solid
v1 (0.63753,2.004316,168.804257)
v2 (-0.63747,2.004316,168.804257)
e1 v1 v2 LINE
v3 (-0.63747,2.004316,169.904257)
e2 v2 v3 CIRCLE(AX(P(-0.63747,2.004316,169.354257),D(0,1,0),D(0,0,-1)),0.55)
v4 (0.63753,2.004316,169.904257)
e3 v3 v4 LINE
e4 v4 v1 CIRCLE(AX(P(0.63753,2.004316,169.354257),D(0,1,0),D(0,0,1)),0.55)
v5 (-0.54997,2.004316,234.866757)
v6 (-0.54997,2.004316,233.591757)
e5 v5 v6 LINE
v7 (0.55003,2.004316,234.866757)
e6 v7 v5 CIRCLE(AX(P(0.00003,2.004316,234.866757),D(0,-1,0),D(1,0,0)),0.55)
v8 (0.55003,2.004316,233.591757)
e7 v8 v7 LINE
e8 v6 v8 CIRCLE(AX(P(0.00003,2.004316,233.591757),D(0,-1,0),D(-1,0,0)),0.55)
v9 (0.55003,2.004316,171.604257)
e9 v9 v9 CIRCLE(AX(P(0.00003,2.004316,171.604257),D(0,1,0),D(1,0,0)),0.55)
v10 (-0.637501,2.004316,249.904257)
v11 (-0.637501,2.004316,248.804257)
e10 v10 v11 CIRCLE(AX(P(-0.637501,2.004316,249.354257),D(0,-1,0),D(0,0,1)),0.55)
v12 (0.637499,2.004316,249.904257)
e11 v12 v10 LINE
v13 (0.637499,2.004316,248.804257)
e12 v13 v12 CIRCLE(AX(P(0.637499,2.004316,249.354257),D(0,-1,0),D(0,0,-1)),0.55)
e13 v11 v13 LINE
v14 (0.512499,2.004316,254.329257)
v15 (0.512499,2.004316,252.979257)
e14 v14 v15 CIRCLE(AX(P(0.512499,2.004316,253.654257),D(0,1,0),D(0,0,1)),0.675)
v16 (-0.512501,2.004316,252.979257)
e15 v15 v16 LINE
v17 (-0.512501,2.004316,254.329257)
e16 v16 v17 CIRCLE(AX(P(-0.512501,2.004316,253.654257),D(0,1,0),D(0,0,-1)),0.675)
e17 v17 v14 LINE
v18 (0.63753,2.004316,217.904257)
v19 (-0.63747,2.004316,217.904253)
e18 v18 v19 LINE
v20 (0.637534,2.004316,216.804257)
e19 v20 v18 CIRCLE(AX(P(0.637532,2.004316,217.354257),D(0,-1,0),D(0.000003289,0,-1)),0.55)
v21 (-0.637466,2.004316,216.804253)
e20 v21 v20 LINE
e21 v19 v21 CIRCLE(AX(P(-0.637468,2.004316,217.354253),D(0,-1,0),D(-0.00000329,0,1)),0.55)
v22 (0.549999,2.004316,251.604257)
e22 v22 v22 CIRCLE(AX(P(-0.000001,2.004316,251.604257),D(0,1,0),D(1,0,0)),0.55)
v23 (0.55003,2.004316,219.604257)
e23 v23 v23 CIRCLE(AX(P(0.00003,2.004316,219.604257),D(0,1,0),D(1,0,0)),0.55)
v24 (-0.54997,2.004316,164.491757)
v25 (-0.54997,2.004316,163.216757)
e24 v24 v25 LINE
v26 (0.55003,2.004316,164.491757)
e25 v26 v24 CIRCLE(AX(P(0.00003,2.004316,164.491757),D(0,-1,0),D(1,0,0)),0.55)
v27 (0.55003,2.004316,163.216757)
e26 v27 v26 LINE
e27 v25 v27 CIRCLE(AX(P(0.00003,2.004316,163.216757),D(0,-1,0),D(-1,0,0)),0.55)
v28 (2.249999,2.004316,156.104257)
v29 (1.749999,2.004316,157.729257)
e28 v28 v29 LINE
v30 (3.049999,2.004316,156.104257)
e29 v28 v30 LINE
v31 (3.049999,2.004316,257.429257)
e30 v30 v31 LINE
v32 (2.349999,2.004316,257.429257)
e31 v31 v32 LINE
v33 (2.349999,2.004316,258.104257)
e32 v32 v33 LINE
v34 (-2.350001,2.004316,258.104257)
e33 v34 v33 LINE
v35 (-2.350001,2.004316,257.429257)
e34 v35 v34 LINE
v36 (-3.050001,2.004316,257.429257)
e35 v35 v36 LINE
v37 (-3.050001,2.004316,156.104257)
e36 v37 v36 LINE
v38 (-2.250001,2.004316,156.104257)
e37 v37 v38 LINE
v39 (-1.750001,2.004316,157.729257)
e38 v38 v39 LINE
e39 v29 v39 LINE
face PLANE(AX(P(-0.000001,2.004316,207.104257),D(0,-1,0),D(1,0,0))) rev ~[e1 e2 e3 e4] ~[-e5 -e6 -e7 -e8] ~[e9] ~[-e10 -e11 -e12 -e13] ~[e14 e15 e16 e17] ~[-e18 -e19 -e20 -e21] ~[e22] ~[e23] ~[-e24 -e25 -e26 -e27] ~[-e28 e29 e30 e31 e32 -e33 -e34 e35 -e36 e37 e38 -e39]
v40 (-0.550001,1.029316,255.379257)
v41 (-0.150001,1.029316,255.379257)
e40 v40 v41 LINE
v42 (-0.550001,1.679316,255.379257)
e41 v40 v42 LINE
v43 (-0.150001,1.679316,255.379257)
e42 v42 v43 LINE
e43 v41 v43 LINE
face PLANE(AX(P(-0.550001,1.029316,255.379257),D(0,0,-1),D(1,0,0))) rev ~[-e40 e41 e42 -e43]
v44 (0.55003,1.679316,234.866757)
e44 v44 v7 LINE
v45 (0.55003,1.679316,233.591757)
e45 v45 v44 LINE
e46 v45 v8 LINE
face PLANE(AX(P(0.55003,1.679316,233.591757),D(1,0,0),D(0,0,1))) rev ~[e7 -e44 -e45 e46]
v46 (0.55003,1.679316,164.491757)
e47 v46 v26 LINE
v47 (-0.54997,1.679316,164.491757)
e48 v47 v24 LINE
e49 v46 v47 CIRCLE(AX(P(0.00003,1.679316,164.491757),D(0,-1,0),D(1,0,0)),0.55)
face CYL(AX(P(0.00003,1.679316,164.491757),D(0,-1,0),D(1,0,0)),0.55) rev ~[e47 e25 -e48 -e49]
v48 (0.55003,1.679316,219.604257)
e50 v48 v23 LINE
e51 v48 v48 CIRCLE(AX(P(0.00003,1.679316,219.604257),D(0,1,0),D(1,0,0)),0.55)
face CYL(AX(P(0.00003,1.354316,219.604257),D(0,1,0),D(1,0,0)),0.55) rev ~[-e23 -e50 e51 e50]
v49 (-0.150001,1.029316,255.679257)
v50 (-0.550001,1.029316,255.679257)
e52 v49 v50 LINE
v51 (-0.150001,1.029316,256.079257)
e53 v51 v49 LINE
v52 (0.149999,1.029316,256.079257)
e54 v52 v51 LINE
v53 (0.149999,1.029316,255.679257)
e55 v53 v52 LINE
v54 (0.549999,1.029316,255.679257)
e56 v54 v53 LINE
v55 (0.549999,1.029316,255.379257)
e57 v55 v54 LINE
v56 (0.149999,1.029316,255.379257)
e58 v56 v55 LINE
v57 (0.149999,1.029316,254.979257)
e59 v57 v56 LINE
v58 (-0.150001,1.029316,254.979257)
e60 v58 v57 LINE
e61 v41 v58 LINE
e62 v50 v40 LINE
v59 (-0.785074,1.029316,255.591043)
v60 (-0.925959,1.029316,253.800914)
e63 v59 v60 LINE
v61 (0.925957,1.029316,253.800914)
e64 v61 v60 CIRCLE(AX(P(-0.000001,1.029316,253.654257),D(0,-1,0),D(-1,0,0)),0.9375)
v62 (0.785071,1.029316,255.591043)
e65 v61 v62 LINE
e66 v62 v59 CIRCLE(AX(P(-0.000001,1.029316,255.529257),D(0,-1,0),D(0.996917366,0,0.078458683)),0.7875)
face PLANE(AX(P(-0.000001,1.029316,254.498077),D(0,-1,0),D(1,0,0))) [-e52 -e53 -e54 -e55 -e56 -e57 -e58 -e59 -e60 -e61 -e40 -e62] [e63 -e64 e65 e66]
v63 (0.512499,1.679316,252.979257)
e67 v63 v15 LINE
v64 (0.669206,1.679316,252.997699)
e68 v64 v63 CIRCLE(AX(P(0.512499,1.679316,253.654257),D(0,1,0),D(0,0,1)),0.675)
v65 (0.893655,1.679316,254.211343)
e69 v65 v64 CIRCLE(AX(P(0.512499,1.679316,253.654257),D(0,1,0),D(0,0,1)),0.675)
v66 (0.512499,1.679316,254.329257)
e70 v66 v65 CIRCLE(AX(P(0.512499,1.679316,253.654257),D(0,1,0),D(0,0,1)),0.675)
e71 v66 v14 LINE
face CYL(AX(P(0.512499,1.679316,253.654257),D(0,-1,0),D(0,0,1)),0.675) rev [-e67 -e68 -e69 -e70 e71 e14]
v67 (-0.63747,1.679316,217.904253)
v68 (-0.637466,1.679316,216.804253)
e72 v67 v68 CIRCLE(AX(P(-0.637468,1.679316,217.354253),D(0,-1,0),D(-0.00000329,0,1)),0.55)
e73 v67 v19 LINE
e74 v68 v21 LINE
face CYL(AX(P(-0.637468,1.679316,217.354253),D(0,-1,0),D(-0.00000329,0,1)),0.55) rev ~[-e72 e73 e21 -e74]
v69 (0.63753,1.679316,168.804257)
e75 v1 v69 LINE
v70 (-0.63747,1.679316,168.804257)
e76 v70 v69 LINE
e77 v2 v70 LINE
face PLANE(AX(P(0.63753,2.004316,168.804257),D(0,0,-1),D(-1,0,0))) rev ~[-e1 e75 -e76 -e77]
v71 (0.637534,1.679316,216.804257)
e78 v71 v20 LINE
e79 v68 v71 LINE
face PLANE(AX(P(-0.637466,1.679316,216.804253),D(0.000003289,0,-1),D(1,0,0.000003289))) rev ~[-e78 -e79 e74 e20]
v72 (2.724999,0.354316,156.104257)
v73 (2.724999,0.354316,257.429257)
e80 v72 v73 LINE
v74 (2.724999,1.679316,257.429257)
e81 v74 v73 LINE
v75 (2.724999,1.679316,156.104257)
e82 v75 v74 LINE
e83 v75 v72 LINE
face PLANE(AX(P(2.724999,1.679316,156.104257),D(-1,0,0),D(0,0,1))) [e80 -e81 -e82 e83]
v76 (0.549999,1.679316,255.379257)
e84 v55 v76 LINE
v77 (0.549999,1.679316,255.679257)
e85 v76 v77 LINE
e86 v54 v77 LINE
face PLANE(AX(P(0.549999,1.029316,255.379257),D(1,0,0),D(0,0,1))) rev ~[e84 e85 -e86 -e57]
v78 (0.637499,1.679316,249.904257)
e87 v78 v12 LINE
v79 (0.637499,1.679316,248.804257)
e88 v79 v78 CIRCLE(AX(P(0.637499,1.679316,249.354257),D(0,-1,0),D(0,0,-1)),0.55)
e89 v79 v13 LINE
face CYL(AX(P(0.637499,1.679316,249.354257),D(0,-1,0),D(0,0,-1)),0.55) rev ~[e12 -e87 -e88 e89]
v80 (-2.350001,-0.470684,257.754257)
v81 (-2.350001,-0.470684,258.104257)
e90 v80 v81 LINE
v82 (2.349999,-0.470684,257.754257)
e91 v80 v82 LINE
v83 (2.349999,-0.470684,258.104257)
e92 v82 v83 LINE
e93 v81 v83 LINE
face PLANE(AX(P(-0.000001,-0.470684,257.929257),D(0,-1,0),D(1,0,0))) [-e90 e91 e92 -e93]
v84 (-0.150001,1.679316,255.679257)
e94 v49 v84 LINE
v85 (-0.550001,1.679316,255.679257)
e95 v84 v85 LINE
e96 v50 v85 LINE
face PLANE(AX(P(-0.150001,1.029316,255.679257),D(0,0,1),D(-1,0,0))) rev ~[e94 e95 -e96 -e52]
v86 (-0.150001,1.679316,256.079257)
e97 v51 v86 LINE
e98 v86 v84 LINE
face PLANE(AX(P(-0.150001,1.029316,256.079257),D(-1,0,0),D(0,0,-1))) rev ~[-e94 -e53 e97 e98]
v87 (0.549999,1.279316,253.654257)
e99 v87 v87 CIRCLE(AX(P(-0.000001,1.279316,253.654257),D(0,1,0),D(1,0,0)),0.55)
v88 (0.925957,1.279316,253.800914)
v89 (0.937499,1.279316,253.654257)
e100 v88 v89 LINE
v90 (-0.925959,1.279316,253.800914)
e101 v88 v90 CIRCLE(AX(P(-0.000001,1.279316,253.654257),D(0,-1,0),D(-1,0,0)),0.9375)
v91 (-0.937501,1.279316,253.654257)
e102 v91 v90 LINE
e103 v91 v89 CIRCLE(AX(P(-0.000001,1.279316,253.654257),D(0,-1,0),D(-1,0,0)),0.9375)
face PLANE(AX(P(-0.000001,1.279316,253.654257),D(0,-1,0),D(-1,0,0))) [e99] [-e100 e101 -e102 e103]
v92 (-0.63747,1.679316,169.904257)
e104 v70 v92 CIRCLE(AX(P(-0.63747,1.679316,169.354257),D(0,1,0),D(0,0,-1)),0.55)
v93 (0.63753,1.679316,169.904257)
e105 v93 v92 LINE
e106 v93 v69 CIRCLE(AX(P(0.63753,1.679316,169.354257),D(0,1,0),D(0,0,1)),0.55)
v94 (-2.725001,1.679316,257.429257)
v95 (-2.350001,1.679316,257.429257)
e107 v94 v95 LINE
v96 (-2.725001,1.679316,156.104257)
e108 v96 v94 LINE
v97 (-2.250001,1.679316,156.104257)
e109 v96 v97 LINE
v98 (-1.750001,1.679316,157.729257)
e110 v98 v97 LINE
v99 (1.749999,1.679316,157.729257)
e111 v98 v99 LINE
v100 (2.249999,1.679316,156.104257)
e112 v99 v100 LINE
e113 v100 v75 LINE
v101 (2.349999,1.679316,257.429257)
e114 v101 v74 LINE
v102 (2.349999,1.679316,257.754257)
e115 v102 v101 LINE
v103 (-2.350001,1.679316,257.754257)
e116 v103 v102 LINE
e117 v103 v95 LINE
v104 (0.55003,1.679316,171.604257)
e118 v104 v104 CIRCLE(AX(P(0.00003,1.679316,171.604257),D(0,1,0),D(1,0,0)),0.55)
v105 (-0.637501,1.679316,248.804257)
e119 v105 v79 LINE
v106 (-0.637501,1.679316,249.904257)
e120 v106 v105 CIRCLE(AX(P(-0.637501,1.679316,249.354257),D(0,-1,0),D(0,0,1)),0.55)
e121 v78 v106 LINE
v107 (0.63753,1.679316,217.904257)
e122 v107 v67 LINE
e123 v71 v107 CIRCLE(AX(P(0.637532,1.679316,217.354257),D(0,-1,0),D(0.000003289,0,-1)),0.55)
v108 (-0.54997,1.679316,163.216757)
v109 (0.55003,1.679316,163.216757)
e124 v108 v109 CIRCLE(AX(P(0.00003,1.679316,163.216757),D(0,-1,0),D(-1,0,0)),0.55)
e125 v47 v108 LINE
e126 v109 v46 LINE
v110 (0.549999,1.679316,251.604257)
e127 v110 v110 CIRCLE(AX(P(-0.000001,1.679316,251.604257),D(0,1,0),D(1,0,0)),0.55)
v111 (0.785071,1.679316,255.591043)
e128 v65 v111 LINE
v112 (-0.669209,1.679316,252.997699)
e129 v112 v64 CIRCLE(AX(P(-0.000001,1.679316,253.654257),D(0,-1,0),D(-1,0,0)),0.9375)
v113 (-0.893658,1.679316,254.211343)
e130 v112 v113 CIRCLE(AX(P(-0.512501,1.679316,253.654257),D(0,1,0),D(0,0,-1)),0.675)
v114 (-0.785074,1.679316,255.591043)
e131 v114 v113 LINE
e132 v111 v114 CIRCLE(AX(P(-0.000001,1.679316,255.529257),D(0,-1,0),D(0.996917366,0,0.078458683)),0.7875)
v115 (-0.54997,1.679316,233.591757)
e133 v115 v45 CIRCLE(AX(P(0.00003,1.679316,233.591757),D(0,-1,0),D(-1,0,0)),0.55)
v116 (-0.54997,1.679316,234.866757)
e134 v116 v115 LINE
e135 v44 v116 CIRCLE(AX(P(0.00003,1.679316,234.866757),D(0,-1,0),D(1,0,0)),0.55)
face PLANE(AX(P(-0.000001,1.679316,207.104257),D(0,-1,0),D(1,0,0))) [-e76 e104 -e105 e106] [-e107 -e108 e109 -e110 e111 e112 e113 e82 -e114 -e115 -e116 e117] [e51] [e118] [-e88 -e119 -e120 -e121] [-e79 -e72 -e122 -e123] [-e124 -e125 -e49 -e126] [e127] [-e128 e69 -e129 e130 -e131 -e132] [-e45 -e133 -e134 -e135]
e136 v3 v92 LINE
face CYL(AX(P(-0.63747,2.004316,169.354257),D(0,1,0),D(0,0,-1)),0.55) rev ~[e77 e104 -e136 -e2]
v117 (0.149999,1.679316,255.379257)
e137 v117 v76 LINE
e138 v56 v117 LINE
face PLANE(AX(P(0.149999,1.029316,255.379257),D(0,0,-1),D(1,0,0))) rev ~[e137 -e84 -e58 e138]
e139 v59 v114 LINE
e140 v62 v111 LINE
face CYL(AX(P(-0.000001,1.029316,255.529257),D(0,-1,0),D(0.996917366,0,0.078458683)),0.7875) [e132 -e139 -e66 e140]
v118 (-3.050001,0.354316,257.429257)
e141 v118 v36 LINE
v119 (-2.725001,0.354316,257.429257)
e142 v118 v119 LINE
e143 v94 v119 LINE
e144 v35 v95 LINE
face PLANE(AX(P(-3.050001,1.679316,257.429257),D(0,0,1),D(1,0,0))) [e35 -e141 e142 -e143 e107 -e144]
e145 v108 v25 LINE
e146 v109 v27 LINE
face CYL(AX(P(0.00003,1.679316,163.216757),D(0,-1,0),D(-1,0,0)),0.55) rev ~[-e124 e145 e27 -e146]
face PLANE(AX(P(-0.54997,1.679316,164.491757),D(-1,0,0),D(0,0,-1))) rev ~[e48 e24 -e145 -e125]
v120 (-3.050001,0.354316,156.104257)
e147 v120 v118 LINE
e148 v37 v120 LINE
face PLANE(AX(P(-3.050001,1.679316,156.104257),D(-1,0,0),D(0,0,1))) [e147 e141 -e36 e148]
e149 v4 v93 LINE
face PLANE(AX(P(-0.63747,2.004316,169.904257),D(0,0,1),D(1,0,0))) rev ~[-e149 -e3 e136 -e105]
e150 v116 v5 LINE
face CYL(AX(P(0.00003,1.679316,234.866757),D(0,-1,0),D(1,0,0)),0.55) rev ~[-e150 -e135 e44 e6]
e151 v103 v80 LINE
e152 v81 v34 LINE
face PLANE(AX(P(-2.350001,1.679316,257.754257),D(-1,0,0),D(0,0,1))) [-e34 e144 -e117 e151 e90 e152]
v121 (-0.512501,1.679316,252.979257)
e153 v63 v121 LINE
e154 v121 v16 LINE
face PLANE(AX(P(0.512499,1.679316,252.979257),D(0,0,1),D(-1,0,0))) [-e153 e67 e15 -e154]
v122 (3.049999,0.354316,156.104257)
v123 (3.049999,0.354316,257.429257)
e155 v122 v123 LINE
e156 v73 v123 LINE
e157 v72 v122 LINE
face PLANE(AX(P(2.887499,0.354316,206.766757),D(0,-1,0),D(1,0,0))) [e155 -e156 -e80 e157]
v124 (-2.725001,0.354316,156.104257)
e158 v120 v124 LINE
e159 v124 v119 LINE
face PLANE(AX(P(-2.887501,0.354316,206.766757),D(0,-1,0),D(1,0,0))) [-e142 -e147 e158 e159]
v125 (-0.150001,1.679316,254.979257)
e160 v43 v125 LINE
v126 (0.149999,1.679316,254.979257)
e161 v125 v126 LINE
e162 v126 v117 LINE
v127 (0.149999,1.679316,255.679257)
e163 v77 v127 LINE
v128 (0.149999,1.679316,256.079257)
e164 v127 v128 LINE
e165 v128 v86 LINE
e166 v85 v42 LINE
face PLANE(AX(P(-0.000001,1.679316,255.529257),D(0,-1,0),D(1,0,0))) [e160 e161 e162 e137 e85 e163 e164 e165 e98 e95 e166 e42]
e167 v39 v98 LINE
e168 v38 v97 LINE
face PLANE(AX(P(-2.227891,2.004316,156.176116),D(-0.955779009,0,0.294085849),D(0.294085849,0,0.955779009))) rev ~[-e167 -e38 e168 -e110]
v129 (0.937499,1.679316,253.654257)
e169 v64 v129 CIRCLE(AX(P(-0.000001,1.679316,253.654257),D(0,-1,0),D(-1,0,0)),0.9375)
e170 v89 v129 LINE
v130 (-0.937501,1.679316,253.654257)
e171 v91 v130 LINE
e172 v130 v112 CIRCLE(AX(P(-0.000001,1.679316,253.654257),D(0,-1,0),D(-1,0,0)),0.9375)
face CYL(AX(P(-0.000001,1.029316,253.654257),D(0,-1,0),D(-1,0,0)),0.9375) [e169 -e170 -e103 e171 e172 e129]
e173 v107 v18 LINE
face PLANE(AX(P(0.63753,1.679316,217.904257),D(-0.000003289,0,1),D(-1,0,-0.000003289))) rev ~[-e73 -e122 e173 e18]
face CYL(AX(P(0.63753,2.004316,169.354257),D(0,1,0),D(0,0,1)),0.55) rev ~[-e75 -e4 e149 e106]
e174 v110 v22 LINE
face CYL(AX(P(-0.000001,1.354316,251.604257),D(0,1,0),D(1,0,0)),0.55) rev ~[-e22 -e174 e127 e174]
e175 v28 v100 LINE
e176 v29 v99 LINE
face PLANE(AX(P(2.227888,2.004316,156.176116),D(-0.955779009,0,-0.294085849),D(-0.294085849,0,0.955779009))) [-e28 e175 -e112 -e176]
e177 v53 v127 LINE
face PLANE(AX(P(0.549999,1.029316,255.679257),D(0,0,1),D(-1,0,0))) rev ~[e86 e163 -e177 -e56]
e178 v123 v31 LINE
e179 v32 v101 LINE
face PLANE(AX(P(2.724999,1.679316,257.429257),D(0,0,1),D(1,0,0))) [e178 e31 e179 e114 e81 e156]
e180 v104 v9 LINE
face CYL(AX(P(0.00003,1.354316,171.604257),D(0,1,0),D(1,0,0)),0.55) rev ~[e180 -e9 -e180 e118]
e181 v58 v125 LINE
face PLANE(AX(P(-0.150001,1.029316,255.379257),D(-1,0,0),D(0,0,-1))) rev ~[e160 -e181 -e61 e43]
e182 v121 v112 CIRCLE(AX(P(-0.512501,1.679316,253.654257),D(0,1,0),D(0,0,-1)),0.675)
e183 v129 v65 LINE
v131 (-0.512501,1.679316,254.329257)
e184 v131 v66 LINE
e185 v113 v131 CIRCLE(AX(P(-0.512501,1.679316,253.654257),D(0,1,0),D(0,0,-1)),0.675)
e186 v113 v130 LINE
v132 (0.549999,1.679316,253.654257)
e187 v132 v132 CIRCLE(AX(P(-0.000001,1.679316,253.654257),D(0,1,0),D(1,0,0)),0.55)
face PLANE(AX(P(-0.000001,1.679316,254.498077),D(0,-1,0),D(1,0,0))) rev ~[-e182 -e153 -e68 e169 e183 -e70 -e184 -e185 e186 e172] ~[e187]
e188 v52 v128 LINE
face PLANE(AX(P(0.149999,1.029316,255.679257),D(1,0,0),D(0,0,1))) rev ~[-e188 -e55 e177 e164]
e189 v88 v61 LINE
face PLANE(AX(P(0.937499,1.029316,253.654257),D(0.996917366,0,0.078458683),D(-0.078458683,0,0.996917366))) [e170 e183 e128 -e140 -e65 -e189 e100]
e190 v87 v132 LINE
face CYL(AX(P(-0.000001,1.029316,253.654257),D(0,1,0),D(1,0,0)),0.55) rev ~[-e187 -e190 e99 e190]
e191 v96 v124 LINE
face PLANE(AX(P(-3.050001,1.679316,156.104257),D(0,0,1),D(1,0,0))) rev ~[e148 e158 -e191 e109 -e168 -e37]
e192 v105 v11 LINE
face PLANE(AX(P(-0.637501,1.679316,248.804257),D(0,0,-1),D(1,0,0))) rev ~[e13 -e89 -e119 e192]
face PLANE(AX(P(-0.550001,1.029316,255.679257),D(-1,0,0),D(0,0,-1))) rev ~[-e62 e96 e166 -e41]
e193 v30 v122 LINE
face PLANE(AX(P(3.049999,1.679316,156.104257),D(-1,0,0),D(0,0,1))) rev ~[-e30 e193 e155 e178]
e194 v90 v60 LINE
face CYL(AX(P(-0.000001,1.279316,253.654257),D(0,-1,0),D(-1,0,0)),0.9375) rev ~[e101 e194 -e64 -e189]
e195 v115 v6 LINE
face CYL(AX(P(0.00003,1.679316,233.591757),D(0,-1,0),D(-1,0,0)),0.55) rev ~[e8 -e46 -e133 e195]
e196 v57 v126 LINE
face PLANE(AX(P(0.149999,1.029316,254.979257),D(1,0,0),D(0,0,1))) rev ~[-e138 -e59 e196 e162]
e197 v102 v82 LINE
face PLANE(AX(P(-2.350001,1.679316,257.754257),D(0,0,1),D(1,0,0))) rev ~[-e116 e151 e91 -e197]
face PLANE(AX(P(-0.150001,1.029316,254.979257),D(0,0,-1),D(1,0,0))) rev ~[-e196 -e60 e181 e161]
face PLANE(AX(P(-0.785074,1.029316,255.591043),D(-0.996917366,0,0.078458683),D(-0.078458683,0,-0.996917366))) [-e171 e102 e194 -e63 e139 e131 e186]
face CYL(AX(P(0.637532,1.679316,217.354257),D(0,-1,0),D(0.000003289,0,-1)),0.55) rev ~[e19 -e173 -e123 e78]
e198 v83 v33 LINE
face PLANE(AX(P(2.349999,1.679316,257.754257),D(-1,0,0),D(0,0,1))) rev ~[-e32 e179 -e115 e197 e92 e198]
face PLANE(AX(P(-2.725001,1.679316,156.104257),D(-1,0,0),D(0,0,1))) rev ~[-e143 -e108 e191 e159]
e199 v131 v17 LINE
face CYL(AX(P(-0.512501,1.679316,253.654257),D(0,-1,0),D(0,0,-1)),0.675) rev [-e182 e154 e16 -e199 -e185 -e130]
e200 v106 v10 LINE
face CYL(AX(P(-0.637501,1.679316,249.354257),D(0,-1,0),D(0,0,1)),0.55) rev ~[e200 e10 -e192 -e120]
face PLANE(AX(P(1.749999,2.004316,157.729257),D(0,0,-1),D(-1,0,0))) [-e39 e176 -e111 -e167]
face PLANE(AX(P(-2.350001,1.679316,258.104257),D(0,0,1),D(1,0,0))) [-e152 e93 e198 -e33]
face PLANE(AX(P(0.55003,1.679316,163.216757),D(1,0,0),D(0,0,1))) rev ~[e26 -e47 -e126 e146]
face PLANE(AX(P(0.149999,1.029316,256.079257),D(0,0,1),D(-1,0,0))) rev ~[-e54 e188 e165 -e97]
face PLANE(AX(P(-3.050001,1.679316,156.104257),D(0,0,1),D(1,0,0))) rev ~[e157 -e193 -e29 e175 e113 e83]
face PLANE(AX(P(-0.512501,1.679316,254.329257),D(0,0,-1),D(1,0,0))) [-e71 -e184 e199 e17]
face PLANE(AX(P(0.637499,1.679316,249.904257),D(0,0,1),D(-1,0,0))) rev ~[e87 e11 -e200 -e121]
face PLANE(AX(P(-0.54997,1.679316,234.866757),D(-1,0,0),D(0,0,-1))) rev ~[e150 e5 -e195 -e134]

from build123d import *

# Parameters (mm, degrees)
BOSS_EXTRUDE1_DEPTH                              = 2.6
SKETCH2_W                                        = 24.4
SKETCH2_H                                        = 408
BOSS_EXTRUDE2_DEPTH                              = 1.3
SKETCH3_W                                        = 2.8
SKETCH3_H                                        = 2.7
CUT_EXTRUDE1_DEPTH                               = 4.9
SKETCH4_W                                        = 1.3
SKETCH4_H                                        = 405.3
BOSS_EXTRUDE3_DEPTH                              = 5.3
SKETCH5_W                                        = 2.8
SKETCH5_H                                        = 2.7
CUT_EXTRUDE2_DEPTH                               = 7.6
SKETCH6_W                                        = 1.3
SKETCH6_H                                        = 405.3
BOSS_EXTRUDE4_DEPTH                              = 5.3
SKETCH7_W                                        = 18.8
SKETCH7_H                                        = 1.4
BOSS_EXTRUDE5_DEPTH                              = 8.6
SKETCH8_W                                        = 14
SKETCH8_H                                        = 6.5
CUT_EXTRUDE3_DEPTH                               = 10.9
CUT_EXTRUDE4_DEPTH                               = 2.3
CUT_EXTRUDE5_DEPTH                               = 2.3
CUT_EXTRUDE6_DEPTH                               = 2.3
CUT_EXTRUDE7_DEPTH                               = 2.3
CUT_EXTRUDE8_DEPTH                               = 10.9
CUT_EXTRUDE9_DEPTH                               = 2.6
DRAFT1_ANGLE                                     = 17.102728969
F_4_4_4_4_DIAMETER_HOLE1_D                       = 4.4
F_4_4_4_4_DIAMETER_HOLE1_DEPTH                   = 1.3
CBORE_FOR_M4_HEX_HEAD_MACHINE_SCREW1_D           = 4.4
CBORE_FOR_M4_HEX_HEAD_MACHINE_SCREW1_DEPTH       = 3.9
CBORE_FOR_M4_HEX_HEAD_MACHINE_SCREW1_CBORE_D     = 7.5
CBORE_FOR_M4_HEX_HEAD_MACHINE_SCREW1_CBORE_DEPTH = 1
SCALE1_SCALE                                     = 0.25


with BuildPart() as part:
    # Sketch1 → Boss-Extrude1 (new body)
    with BuildSketch(Plane.XZ.offset(0.6)):
        with BuildLine():
            Line((3.75, 390.2), (3.140289704, 397.947144852))
            ThreePointArc((3.140289704, 397.947144852), (0, 400.85), (-3.140289704, 397.947144852))
            Line((-3.140289704, 397.947144852), (-3.75, 390.2))
            ThreePointArc((-3.75, 390.2), (0, 386.45), (3.75, 390.2))
        make_face()
    extrude(amount=-BOSS_EXTRUDE1_DEPTH)

    # Sketch2 → Boss-Extrude2 (add)
    with BuildSketch(Plane.XZ.offset(-2)):
        with Locations((0, 204)):
            Rectangle(SKETCH2_W, SKETCH2_H)
        with BuildLine():
            Line((-2.05, 392.9), (2.05, 392.9))
            ThreePointArc((2.05, 392.9), (4.75, 390.2), (2.05, 387.5))
            Line((2.05, 387.5), (-2.05, 387.5))
            ThreePointArc((-2.05, 387.5), (-4.75, 390.2), (-2.05, 392.9))
        make_face(mode=Mode.SUBTRACT)
    extrude(amount=-BOSS_EXTRUDE2_DEPTH)

    # Sketch3 → Cut-Extrude1 (cut, through all)
    with BuildSketch(Plane(origin=(0, 3.3, 0), x_dir=(-1, 0, 0), z_dir=(0, 1, 0))):
        with Locations((-10.8, 406.65)):
            Rectangle(SKETCH3_W, SKETCH3_H)
    extrude(amount=-CUT_EXTRUDE1_DEPTH, mode=Mode.SUBTRACT)

    # Sketch4 → Boss-Extrude3 (add)
    with BuildSketch(Plane.XZ.offset(-2)):
        with Locations((11.55, 202.65)):
            Rectangle(SKETCH4_W, SKETCH4_H)
    extrude(amount=BOSS_EXTRUDE3_DEPTH)

    # Sketch5 → Cut-Extrude2 (cut, through all)
    with BuildSketch(Plane(origin=(0, 3.3, 0), x_dir=(-1, 0, 0), z_dir=(0, 1, 0))):
        with Locations((10.8, 406.65)):
            Rectangle(SKETCH5_W, SKETCH5_H)
    extrude(amount=-CUT_EXTRUDE2_DEPTH, mode=Mode.SUBTRACT)

    # Sketch6 → Boss-Extrude4 (add)
    with BuildSketch(Plane.XZ.offset(-2)):
        with Locations((-11.55, 202.65)):
            Rectangle(SKETCH6_W, SKETCH6_H)
    extrude(amount=BOSS_EXTRUDE4_DEPTH)

    # Sketch7 → Boss-Extrude5 (add)
    with BuildSketch(Plane.XZ.offset(-2)):
        with Locations((0, 407.3)):
            Rectangle(SKETCH7_W, SKETCH7_H)
    extrude(amount=BOSS_EXTRUDE5_DEPTH)

    # Sketch8 → Cut-Extrude3 (cut, through all)
    with BuildSketch(Plane(origin=(0, 3.3, 0), x_dir=(-1, 0, 0), z_dir=(0, 1, 0))):
        with Locations((0, 3.25)):
            Rectangle(SKETCH8_W, SKETCH8_H)
    extrude(amount=-CUT_EXTRUDE3_DEPTH, mode=Mode.SUBTRACT)

    # Sketch9 → Cut-Extrude4 (cut, through all)
    with BuildSketch(Plane.XZ.offset(-2)):
        with BuildLine():
            Line((2.55, 375.200000014), (-2.55, 375.200000014))
            ThreePointArc((-2.55, 375.200000014), (-4.75, 373.000000014), (-2.55, 370.800000014))
            Line((-2.55, 370.800000014), (2.55, 370.800000014))
            ThreePointArc((2.55, 370.800000014), (4.75, 373.000000014), (2.55, 375.200000014))
        make_face()
    extrude(amount=-CUT_EXTRUDE4_DEPTH, mode=Mode.SUBTRACT)

    # Sketch10 → Cut-Extrude5 (cut, through all)
    with BuildSketch(Plane.XZ.offset(-2)):
        with BuildLine():
            Line((-2.549860329, 242.799983225), (2.550139671, 242.8))
            ThreePointArc((2.550139671, 242.8), (4.750132435, 245.000007236), (2.550125198, 247.2))
            Line((2.550125198, 247.2), (-2.549874802, 247.199983225))
            ThreePointArc((-2.549874802, 247.199983225), (-4.749867565, 244.999975989), (-2.549860329, 242.799983225))
        make_face()
    extrude(amount=-CUT_EXTRUDE5_DEPTH, mode=Mode.SUBTRACT)

    # Sketch11 → Cut-Extrude6 (cut, through all)
    with BuildSketch(Plane.XZ.offset(-2)):
        with BuildLine():
            Line((2.200125198, 309.95), (2.200125198, 315.05))
            ThreePointArc((2.200125198, 315.05), (0.000125198, 317.25), (-2.199874802, 315.05))
            Line((-2.199874802, 315.05), (-2.199874802, 309.95))
            ThreePointArc((-2.199874802, 309.95), (0.000125198, 307.75), (2.200125198, 309.95))
        make_face()
    extrude(amount=-CUT_EXTRUDE6_DEPTH, mode=Mode.SUBTRACT)

    # Sketch12 → Cut-Extrude7 (cut, through all)
    with BuildSketch(Plane.XZ.offset(-2)):
        with BuildLine():
            Line((2.200125198, 28.45), (2.200125198, 33.55))
            ThreePointArc((2.200125198, 33.55), (0.000125198, 35.75), (-2.199874802, 33.55))
            Line((-2.199874802, 33.55), (-2.199874802, 28.45))
            ThreePointArc((-2.199874802, 28.45), (0.000125198, 26.25), (2.200125198, 28.45))
        make_face()
    extrude(amount=-CUT_EXTRUDE7_DEPTH, mode=Mode.SUBTRACT)

    # Sketch13 → Cut-Extrude8 (cut, through all)
    with BuildSketch(Plane(origin=(0, 3.3, 0), x_dir=(-1, 0, 0), z_dir=(0, 1, 0))):
        with BuildLine():
            Line((2.549874802, 55.2), (-2.550125198, 55.2))
            ThreePointArc((-2.550125198, 55.2), (-4.750125198, 53), (-2.550125198, 50.8))
            Line((-2.550125198, 50.8), (2.549874802, 50.8))
            ThreePointArc((2.549874802, 50.8), (4.749874802, 53), (2.549874802, 55.2))
        make_face()
    extrude(amount=-CUT_EXTRUDE8_DEPTH, mode=Mode.SUBTRACT)

    # Sketch14 → Cut-Extrude9 (cut)
    with BuildSketch(Plane.XZ.offset(0.6)):
        Polygon((0.6, 397.1), (2.2, 397.1), (2.2, 398.3), (0.6, 398.3), (0.6, 399.9), (-0.6, 399.9), (-0.6, 398.3), (-2.2, 398.3), (-2.2, 397.1), (-0.6, 397.1), (-0.6, 395.5), (0.6, 395.5), align=None)
    extrude(amount=-CUT_EXTRUDE9_DEPTH, mode=Mode.SUBTRACT)

    # Draft1
    draft1_faces = [part.faces().sort_by_distance(p)[0] for p in [
        (-7, 2.65, 3.25),
        (7, 2.65, 3.25),
    ]]
    draft(draft1_faces, Plane(origin=(-7, -6.6, 6.5), x_dir=(0, -1, 0), z_dir=(0, 0, -1)), DRAFT1_ANGLE)

    # Ø4.4 (4.4) Diameter Hole1
    with Locations(Plane(origin=(0, 2, 0), x_dir=(-1, 0, 0), z_dir=(0, -1, 0))):
        with Locations((-0.000125198, -62), (-0.000125198, -254), (0, -382)):
            Hole(F_4_4_4_4_DIAMETER_HOLE1_D / 2, depth=F_4_4_4_4_DIAMETER_HOLE1_DEPTH)

    # CBORE for M4 Hex Head Machine Screw1
    with Locations(Plane(origin=(0, -0.6, 0), x_dir=(-1, 0, 0), z_dir=(0, -1, 0))):
        with Locations((0, -390.2)):
            CounterBoreHole(CBORE_FOR_M4_HEX_HEAD_MACHINE_SCREW1_D / 2, CBORE_FOR_M4_HEX_HEAD_MACHINE_SCREW1_CBORE_D / 2, CBORE_FOR_M4_HEX_HEAD_MACHINE_SCREW1_CBORE_DEPTH, depth=CBORE_FOR_M4_HEX_HEAD_MACHINE_SCREW1_DEPTH)


with BuildPart() as part_1:
    # Scale1: scaled about (-1.622e-06, 1.572421019, 208.139009322)
    add(part.part.scale(SCALE1_SCALE).moved(Location((-1.217e-06, 1.179315764, 156.104256991))))


solid = part_1.part
